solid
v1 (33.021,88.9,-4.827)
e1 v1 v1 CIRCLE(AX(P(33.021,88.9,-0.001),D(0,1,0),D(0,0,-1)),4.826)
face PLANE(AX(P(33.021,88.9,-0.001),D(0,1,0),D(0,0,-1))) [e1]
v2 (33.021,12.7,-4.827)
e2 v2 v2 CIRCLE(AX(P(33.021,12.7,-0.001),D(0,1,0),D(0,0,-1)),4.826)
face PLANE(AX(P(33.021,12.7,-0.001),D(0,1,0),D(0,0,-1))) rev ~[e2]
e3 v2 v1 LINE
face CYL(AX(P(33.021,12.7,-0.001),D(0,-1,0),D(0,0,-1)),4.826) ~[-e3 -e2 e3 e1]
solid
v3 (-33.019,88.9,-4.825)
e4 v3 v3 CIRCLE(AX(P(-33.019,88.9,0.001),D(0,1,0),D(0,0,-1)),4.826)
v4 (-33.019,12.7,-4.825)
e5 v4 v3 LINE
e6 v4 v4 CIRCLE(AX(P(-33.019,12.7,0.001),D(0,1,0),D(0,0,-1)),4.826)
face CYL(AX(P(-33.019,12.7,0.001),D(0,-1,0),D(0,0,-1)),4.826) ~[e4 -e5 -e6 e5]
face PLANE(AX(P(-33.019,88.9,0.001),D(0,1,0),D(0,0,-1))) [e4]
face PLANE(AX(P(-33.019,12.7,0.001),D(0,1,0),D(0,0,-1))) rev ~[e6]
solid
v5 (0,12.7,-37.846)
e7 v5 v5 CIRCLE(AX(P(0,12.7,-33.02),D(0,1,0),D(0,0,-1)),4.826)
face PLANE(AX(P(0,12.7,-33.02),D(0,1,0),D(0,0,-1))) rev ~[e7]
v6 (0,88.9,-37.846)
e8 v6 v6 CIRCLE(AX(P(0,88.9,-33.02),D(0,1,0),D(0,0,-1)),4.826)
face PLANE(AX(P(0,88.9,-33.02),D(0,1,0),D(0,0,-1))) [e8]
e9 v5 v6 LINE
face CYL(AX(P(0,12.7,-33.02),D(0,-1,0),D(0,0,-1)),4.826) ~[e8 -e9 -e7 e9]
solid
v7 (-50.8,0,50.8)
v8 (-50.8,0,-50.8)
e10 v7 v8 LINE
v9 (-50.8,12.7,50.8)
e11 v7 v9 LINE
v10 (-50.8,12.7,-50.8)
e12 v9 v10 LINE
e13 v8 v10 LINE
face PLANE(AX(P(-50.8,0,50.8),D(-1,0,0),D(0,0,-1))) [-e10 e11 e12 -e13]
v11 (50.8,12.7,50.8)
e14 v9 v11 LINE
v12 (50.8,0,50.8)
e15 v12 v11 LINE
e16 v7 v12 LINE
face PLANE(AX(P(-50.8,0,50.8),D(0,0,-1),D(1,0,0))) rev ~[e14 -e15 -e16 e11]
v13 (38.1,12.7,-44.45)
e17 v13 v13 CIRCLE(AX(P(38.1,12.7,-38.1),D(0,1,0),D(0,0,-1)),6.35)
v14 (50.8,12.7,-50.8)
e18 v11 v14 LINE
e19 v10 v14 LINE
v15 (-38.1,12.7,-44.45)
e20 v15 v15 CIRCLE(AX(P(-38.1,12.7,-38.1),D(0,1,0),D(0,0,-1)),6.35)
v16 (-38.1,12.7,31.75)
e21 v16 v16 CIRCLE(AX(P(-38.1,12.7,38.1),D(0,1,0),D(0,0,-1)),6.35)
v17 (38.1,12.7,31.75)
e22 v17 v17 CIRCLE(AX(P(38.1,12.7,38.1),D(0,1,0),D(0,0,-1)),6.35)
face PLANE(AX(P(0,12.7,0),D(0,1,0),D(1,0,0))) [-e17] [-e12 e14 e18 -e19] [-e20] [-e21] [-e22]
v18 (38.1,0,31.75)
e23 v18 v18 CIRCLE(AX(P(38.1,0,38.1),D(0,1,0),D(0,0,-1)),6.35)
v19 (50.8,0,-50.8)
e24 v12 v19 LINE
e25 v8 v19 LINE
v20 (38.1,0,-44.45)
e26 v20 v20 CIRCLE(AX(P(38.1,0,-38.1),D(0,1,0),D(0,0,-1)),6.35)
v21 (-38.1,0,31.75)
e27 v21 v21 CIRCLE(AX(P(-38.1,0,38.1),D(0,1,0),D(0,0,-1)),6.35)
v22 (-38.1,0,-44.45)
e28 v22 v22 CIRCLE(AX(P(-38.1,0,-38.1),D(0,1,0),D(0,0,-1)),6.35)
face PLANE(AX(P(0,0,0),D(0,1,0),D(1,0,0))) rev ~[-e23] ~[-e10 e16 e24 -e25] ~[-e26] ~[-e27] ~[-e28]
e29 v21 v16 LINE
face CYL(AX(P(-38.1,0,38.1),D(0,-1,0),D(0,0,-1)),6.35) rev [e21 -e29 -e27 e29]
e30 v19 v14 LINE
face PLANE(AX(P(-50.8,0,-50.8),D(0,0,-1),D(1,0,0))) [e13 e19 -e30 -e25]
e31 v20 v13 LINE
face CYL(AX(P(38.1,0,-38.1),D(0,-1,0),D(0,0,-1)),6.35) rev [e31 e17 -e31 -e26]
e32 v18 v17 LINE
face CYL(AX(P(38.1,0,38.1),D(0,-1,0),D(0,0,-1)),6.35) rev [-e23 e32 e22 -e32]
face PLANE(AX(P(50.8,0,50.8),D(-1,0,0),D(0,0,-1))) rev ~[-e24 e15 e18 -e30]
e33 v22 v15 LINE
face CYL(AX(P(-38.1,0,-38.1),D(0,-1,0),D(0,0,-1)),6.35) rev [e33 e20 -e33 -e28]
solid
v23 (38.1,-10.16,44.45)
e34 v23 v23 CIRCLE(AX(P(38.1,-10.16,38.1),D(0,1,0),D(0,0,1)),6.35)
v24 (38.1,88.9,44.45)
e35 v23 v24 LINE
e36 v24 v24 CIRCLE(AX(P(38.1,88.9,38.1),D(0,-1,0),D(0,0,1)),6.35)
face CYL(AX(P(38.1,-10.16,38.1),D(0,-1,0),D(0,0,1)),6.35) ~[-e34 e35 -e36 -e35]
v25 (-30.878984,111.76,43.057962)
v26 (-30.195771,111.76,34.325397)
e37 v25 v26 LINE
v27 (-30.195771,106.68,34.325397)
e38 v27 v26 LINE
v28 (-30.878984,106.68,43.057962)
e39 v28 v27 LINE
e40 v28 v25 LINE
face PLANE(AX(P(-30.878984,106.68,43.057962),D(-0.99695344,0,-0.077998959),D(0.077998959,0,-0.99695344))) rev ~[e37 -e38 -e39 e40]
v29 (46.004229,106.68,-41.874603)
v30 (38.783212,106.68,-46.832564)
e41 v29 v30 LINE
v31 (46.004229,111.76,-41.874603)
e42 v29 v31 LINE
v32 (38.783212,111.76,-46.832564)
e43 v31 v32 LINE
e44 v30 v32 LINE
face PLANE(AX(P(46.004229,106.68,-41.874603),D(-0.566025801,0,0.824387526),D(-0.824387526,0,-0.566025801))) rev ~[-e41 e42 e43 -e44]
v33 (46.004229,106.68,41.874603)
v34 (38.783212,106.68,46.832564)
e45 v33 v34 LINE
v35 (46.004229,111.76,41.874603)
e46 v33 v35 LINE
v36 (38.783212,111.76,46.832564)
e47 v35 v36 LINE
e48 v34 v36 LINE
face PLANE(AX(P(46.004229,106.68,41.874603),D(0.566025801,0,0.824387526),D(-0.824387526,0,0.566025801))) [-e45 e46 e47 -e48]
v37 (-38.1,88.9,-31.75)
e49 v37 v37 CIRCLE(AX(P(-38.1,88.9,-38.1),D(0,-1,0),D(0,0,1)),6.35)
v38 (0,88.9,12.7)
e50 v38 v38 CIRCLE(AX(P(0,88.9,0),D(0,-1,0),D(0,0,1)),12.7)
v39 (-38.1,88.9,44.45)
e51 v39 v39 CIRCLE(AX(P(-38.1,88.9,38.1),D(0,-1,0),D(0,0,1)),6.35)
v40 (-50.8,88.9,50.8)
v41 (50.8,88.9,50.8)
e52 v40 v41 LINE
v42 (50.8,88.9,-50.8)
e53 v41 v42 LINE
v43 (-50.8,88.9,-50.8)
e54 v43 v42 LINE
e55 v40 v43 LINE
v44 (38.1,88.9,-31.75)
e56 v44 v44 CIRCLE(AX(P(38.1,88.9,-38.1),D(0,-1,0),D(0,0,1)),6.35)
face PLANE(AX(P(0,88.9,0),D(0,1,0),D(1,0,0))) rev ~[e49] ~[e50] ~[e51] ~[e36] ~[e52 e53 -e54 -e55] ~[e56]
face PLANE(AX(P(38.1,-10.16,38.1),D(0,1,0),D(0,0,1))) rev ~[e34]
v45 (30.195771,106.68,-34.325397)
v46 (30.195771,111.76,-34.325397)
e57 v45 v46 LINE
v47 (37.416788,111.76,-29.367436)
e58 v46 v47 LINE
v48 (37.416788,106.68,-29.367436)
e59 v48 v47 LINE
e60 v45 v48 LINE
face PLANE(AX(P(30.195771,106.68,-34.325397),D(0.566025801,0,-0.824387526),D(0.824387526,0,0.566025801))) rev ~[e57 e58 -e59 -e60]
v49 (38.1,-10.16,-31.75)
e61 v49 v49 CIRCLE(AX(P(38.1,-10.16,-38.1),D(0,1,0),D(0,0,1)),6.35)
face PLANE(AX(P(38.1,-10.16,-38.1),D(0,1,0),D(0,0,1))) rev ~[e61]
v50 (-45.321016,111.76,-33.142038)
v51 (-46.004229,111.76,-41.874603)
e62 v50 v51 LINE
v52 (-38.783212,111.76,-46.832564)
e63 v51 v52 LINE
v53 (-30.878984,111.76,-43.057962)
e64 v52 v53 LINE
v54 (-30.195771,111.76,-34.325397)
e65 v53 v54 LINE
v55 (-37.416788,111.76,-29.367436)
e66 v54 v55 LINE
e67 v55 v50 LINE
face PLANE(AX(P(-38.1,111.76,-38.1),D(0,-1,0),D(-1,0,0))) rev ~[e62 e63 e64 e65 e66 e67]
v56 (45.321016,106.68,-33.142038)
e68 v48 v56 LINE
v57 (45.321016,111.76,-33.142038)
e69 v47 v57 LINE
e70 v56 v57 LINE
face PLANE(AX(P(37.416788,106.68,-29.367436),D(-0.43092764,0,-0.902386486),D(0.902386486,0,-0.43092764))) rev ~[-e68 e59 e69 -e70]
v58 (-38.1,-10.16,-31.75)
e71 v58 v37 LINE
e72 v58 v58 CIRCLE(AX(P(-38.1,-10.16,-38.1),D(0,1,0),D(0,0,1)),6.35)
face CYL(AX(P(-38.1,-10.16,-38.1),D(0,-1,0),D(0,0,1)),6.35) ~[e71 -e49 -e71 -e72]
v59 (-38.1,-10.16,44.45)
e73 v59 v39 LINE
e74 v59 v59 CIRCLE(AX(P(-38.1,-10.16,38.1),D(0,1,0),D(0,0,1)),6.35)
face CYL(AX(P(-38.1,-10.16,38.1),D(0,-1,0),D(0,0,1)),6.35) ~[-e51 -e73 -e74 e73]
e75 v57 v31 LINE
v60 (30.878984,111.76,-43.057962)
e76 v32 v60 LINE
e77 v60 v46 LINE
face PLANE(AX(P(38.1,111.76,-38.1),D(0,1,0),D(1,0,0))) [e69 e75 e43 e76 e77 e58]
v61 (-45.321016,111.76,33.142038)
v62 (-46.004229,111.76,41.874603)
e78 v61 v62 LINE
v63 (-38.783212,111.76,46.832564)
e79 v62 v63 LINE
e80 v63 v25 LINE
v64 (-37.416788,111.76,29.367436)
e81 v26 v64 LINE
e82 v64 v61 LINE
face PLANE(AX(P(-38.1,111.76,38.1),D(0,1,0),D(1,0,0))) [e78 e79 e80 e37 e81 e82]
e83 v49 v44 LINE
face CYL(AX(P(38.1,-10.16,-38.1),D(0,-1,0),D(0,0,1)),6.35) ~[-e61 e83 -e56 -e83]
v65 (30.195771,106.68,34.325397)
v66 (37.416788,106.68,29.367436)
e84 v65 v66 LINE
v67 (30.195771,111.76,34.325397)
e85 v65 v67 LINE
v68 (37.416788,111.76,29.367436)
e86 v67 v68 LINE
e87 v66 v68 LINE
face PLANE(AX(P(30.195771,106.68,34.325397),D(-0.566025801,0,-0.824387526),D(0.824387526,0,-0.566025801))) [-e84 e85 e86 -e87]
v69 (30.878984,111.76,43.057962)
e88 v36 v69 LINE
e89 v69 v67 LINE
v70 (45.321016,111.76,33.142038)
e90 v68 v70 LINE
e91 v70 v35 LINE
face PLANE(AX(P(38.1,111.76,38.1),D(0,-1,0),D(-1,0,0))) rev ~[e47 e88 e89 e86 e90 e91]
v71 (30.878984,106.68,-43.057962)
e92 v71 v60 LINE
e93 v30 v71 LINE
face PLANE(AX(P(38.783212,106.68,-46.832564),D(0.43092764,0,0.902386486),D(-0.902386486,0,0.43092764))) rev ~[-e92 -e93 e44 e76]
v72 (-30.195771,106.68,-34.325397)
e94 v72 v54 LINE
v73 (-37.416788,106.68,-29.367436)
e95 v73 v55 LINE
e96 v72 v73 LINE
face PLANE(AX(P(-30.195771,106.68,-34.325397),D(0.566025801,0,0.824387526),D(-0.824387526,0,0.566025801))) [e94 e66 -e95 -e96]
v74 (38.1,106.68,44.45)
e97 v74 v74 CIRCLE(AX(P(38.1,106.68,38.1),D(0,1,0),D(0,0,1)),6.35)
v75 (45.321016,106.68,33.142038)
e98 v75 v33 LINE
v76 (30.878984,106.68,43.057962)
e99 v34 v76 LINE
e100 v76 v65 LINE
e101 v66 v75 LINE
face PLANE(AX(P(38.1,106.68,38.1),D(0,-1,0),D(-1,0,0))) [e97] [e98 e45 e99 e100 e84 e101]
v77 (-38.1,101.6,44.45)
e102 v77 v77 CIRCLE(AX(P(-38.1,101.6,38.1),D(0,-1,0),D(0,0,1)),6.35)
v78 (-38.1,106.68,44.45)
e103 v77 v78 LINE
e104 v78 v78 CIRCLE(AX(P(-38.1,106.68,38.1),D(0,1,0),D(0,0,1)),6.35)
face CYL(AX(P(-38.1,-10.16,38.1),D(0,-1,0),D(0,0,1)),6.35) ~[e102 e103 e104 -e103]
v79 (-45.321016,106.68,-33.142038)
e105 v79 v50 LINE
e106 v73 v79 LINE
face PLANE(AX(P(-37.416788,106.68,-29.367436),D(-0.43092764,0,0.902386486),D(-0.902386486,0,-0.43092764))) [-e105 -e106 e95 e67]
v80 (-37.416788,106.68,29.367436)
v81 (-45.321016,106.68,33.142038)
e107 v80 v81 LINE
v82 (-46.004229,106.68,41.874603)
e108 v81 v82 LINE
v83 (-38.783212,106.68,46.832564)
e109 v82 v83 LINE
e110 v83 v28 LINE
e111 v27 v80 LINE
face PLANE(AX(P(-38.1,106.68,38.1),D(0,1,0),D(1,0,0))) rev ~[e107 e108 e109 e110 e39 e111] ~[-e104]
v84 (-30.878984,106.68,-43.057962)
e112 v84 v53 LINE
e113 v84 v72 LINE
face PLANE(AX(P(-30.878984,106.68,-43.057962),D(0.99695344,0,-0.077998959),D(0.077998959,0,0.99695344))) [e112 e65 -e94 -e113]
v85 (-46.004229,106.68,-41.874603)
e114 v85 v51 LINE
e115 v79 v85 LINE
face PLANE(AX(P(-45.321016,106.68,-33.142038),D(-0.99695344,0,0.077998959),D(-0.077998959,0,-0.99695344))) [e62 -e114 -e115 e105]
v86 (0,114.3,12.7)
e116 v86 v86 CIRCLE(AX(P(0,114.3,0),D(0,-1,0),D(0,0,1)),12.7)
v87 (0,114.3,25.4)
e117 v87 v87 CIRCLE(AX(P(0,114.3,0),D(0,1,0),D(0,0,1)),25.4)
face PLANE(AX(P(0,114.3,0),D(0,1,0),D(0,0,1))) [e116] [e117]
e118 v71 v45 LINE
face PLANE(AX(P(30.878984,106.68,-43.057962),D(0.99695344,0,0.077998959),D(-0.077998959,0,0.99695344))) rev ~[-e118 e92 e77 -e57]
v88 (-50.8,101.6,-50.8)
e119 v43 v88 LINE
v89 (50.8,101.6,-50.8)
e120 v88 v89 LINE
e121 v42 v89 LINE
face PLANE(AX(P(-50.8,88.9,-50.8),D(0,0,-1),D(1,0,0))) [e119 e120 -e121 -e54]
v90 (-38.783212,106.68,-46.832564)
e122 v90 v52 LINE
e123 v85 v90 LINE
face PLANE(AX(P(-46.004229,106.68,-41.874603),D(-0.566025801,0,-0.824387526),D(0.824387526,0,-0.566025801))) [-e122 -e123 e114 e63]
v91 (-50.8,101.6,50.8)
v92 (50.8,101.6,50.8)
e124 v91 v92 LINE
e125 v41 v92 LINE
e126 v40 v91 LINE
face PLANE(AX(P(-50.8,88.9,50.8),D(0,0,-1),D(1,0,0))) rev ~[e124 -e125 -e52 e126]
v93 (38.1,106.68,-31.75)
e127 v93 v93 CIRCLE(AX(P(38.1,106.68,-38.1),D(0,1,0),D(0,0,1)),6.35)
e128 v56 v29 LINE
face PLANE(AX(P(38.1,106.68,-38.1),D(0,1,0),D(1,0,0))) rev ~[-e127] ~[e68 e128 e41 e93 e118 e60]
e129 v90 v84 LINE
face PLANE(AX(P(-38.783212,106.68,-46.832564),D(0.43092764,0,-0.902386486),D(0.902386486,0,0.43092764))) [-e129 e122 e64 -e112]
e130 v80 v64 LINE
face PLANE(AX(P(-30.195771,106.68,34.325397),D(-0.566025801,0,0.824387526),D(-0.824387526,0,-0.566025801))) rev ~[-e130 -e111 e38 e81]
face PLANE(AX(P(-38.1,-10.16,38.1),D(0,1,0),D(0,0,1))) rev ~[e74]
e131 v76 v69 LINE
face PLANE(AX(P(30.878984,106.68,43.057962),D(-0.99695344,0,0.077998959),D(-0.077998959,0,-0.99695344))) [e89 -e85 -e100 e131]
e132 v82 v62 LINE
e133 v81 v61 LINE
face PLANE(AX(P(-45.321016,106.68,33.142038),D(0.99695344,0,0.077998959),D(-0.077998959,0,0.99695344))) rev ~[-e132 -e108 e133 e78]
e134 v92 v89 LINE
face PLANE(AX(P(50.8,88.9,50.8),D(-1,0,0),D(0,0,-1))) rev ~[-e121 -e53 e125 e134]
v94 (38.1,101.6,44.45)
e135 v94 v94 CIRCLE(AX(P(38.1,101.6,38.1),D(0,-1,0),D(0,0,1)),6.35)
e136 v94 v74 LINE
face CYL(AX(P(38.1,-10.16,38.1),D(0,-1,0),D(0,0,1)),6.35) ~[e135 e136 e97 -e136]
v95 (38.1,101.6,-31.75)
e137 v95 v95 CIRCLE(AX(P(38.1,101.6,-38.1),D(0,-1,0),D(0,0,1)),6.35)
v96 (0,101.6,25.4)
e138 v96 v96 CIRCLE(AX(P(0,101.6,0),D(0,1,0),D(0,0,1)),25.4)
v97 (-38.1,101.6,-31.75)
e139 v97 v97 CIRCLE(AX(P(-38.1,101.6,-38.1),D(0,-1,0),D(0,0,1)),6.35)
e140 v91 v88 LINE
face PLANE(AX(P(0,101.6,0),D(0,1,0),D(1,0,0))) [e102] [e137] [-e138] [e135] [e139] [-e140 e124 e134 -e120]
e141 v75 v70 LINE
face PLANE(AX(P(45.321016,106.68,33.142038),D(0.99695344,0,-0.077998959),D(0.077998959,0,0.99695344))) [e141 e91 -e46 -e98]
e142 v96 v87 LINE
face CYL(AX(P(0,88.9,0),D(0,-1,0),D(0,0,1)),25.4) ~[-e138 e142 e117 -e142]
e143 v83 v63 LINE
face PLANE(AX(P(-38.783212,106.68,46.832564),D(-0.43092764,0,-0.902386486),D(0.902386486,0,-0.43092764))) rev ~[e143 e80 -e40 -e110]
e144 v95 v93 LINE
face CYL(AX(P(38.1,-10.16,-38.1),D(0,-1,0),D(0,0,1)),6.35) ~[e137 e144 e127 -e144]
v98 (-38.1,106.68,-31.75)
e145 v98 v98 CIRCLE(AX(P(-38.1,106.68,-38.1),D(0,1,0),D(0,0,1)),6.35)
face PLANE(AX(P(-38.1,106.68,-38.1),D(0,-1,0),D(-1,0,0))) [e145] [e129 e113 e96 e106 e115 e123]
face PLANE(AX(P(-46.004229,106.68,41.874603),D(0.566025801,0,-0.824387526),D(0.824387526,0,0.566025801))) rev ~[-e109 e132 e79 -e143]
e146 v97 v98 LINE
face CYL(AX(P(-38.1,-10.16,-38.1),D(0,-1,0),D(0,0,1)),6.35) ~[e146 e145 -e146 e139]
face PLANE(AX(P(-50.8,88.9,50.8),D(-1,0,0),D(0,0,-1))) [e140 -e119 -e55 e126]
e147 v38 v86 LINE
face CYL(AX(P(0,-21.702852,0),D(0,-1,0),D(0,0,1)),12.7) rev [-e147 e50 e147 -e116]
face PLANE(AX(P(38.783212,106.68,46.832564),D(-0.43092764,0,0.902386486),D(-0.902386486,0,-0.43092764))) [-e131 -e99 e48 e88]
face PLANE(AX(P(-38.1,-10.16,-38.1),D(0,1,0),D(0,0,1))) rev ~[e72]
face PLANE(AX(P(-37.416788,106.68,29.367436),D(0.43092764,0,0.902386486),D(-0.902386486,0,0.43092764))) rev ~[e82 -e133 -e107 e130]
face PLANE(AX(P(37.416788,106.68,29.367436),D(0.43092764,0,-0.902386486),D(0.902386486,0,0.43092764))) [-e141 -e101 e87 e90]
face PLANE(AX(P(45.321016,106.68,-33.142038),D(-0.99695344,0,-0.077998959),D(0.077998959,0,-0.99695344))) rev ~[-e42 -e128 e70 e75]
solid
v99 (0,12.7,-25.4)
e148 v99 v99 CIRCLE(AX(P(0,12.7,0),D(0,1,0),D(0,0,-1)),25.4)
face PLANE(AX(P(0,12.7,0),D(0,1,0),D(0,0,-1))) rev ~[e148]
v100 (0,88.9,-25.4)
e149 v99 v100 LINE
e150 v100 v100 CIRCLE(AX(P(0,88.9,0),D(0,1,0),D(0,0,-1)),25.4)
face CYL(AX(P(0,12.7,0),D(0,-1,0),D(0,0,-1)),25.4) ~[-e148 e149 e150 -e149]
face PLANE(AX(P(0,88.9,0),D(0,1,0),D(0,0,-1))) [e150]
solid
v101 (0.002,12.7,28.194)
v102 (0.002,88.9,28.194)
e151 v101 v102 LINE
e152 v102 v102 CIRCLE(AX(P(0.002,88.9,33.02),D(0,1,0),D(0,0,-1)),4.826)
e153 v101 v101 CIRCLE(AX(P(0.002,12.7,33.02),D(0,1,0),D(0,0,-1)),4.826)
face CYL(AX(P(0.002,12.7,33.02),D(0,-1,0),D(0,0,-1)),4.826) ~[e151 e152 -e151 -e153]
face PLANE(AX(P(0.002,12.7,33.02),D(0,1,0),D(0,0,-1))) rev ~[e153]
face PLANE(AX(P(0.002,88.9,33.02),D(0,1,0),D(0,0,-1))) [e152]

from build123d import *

# Parameters (mm, degrees)
SKETCH1_W                  = 101.6
SKETCH1_H                  = 101.6
SKETCH1_R                  = 6.35
BOSS_EXTRUDE1_DEPTH        = 12.7
SKETCH2_R                  = 25.4
BOSS_EXTRUDE2_DEPTH        = 76.2
SKETCH2_R_2                = 4.826
BOSS_EXTRUDE2_2_DEPTH      = 76.2
BOSS_EXTRUDE2_3_DEPTH      = 76.2
BOSS_EXTRUDE2_4_DEPTH      = 76.2
BOSS_EXTRUDE2_5_DEPTH      = 76.2
SKETCH4_W                  = 101.6
SKETCH4_H                  = 101.6
SKETCH4_R                  = 25.4
BOSS_EXTRUDE4_DEPTH        = 12.7
CUT_EXTRUDE2_DEPTH         = 115.3
CUT_EXTRUDE2_DEPTH_BACK    = 115.3
SKETCH5_R                  = 6.35
SKETCH6_R                  = 25.4
BOSS_EXTRUDE5_DEPTH        = 25.4
CUT_EXTRUDE3_DEPTH         = 136.002851822
CUT_EXTRUDE3_DEPTH_BACK    = 136.002851822
SKETCH7_R                  = 12.7
BOSS_EXTRUDE6_DEPTH        = 15.24
BOSS_EXTRUDE6_DEPTH_BACK   = 101.6
SKETCH9_R                  = 6.35
BOSS_EXTRUDE6_2_DEPTH      = 15.24
BOSS_EXTRUDE6_2_DEPTH_BACK = 101.6
BOSS_EXTRUDE6_3_DEPTH      = 15.24
BOSS_EXTRUDE6_3_DEPTH_BACK = 101.6
BOSS_EXTRUDE6_4_DEPTH      = 15.24
BOSS_EXTRUDE6_4_DEPTH_BACK = 101.6
BOSS_EXTRUDE7_DEPTH        = 5.08


with BuildPart() as part:
    # Sketch1 → Boss-Extrude1 (new body)
    with BuildSketch(Plane(origin=(0, 0, 0), x_dir=(1, 0, 0), z_dir=(0, 1, 0))):
        Rectangle(SKETCH1_W, SKETCH1_H)
        with Locations(Location((-38.1, 38.1, 0), (0, 0, 90))):
            Circle(SKETCH1_R, mode=Mode.SUBTRACT)
        with Locations(Location((38.1, 38.1, 0), (0, 0, 90))):
            Circle(SKETCH1_R, mode=Mode.SUBTRACT)
        with Locations(Location((38.1, -38.1, 0), (0, 0, 90))):
            Circle(SKETCH1_R, mode=Mode.SUBTRACT)
        with Locations(Location((-38.1, -38.1, 0), (0, 0, 90))):
            Circle(SKETCH1_R, mode=Mode.SUBTRACT)
    extrude(amount=BOSS_EXTRUDE1_DEPTH)


with BuildPart() as body_2:
    # Sketch2 → Boss-Extrude2 (new body)
    with BuildSketch(Plane(origin=(0, 12.7, 0), x_dir=(1, 0, 0), z_dir=(0, 1, 0))):
        with Locations(Location((0, 0, 0), (0, 0, 90))):
            Circle(SKETCH2_R)
    extrude(amount=BOSS_EXTRUDE2_DEPTH)


with BuildPart() as body_3:
    # Sketch2 → Boss-Extrude2 2 (new body)
    with BuildSketch(Plane(origin=(0, 12.7, 0), x_dir=(1, 0, 0), z_dir=(0, 1, 0))):
        with Locations(Location((0, 33.02, 0), (0, 0, 90))):
            Circle(SKETCH2_R_2)
    extrude(amount=BOSS_EXTRUDE2_2_DEPTH)


with BuildPart() as body_4:
    # Sketch2 → Boss-Extrude2 3 (new body)
    with BuildSketch(Plane(origin=(0, 12.7, 0), x_dir=(1, 0, 0), z_dir=(0, 1, 0))):
        with Locations(Location((33.021, 0.001, 0), (0, 0, 90))):
            Circle(SKETCH2_R_2)
    extrude(amount=BOSS_EXTRUDE2_3_DEPTH)


with BuildPart() as body_5:
    # Sketch2 → Boss-Extrude2 4 (new body)
    with BuildSketch(Plane(origin=(0, 12.7, 0), x_dir=(1, 0, 0), z_dir=(0, 1, 0))):
        with Locations(Location((0.002, -33.02, 0), (0, 0, 90))):
            Circle(SKETCH2_R_2)
    extrude(amount=BOSS_EXTRUDE2_4_DEPTH)


with BuildPart() as body_6:
    # Sketch2 → Boss-Extrude2 5 (new body)
    with BuildSketch(Plane(origin=(0, 12.7, 0), x_dir=(1, 0, 0), z_dir=(0, 1, 0))):
        with Locations(Location((-33.019, -0.001, 0), (0, 0, 90))):
            Circle(SKETCH2_R_2)
    extrude(amount=BOSS_EXTRUDE2_5_DEPTH)


with BuildPart() as body_7:
    # Sketch4 → Boss-Extrude4 (new body)
    with BuildSketch(Plane(origin=(0, 88.9, 0), x_dir=(1, 0, 0), z_dir=(0, 1, 0))):
        Rectangle(SKETCH4_W, SKETCH4_H)
        with Locations(Location((0, 0, 0), (0, 0, 270))):
            Circle(SKETCH4_R, mode=Mode.SUBTRACT)
    extrude(amount=BOSS_EXTRUDE4_DEPTH)

    # Sketch5 → Cut-Extrude2 (cut, two sides: drawn at the far end of the back side and taken through both)
    with BuildSketch(Plane(origin=(0, 88.9, 0), x_dir=(1, 0, 0), z_dir=(0, 1, 0)).offset(-CUT_EXTRUDE2_DEPTH_BACK)):
        with Locations(Location((-38.1, 38.1, 0), (0, 0, 270))):
            Circle(SKETCH5_R)
        with Locations(Location((38.1, -38.1, 0), (0, 0, 270))):
            Circle(SKETCH5_R)
        with Locations(Location((-38.1, -38.1, 0), (0, 0, 270))):
            Circle(SKETCH5_R)
        with Locations(Location((38.1, 38.1, 0), (0, 0, 270))):
            Circle(SKETCH5_R)
    extrude(amount=CUT_EXTRUDE2_DEPTH + CUT_EXTRUDE2_DEPTH_BACK, mode=Mode.SUBTRACT)

    # Sketch6 → Boss-Extrude5 (add)
    with BuildSketch(Plane(origin=(0, 88.9, 0), x_dir=(1, 0, 0), z_dir=(0, 1, 0))):
        with Locations(Location((0, 0, 0), (0, 0, 270))):
            Circle(SKETCH6_R)
    extrude(amount=BOSS_EXTRUDE5_DEPTH)

    # Sketch7 → Cut-Extrude3 (cut, two sides: drawn at the far end of the back side and taken through both)
    with BuildSketch(Plane(origin=(0, 114.3, 0), x_dir=(1, 0, 0), z_dir=(0, 1, 0)).offset(-CUT_EXTRUDE3_DEPTH_BACK)):
        with Locations(Location((0, 0, 0), (0, 0, 270))):
            Circle(SKETCH7_R)
    extrude(amount=CUT_EXTRUDE3_DEPTH + CUT_EXTRUDE3_DEPTH_BACK, mode=Mode.SUBTRACT)



with BuildPart() as body_8:
    # Sketch9 → Boss-Extrude6 (new, two sides: drawn at the far end of the back side and taken through both)
    with BuildSketch(Plane(origin=(0, 91.44, 0), x_dir=(1, 0, 0), z_dir=(0, 1, 0)).offset(-BOSS_EXTRUDE6_DEPTH_BACK)):
        with Locations(Location((-38.1, -38.1, 0), (0, 0, 270))):
            Circle(SKETCH9_R)
    extrude(amount=BOSS_EXTRUDE6_DEPTH + BOSS_EXTRUDE6_DEPTH_BACK)


with BuildPart() as body_9:
    # Sketch9 → Boss-Extrude6 2 (new, two sides: drawn at the far end of the back side and taken through both)
    with BuildSketch(Plane(origin=(0, 91.44, 0), x_dir=(1, 0, 0), z_dir=(0, 1, 0)).offset(-BOSS_EXTRUDE6_2_DEPTH_BACK)):
        with Locations(Location((38.1, -38.1, 0), (0, 0, 270))):
            Circle(SKETCH9_R)
    extrude(amount=BOSS_EXTRUDE6_2_DEPTH + BOSS_EXTRUDE6_2_DEPTH_BACK)


with BuildPart() as body_10:
    # Sketch9 → Boss-Extrude6 3 (new, two sides: drawn at the far end of the back side and taken through both)
    with BuildSketch(Plane(origin=(0, 91.44, 0), x_dir=(1, 0, 0), z_dir=(0, 1, 0)).offset(-BOSS_EXTRUDE6_3_DEPTH_BACK)):
        with Locations(Location((38.1, 38.1, 0), (0, 0, 270))):
            Circle(SKETCH9_R)
    extrude(amount=BOSS_EXTRUDE6_3_DEPTH + BOSS_EXTRUDE6_3_DEPTH_BACK)


with BuildPart() as body_11:
    # Sketch9 → Boss-Extrude6 4 (new, two sides: drawn at the far end of the back side and taken through both)
    with BuildSketch(Plane(origin=(0, 91.44, 0), x_dir=(1, 0, 0), z_dir=(0, 1, 0)).offset(-BOSS_EXTRUDE6_4_DEPTH_BACK)):
        with Locations(Location((-38.1, 38.1, 0), (0, 0, 270))):
            Circle(SKETCH9_R)
    extrude(amount=BOSS_EXTRUDE6_4_DEPTH + BOSS_EXTRUDE6_4_DEPTH_BACK)


with BuildPart() as body_7_1:
    add(body_7.part)

    add(body_8.part)  # Boss-Extrude7 merges body 8

    add(body_9.part)  # Boss-Extrude7 merges body 9

    add(body_10.part)  # Boss-Extrude7 merges body 10

    add(body_11.part)  # Boss-Extrude7 merges body 11
    # Sketch10 → Boss-Extrude7 (add)
    with BuildSketch(Plane(origin=(0, 106.68, 0), x_dir=(1, 0, 0), z_dir=(0, 1, 0))):
        Polygon((-30.878983534, -43.057961512), (-30.195771147, -34.325397056), (-37.416787612, -29.367435544), (-45.321016466, -33.142038488), (-46.004228853, -41.874602944), (-38.783212388, -46.832564456), align=None)
        Polygon((-38.783212388, 46.832564456), (-30.878983534, 43.057961512), (-30.195771147, 34.325397056), (-37.416787612, 29.367435544), (-45.321016466, 33.142038488), (-46.004228853, 41.874602944), align=None)
        Polygon((46.004228853, 41.874602944), (38.783212388, 46.832564456), (30.878983534, 43.057961512), (30.195771147, 34.325397056), (37.416787612, 29.367435544), (45.321016466, 33.142038488), align=None)
        Polygon((38.783212388, -46.832564456), (30.878983534, -43.057961512), (30.195771147, -34.325397056), (37.416787612, -29.367435544), (45.321016466, -33.142038488), (46.004228853, -41.874602944), align=None)
    extrude(amount=BOSS_EXTRUDE7_DEPTH)


solid = Compound([part.part, body_2.part, body_3.part, body_4.part, body_5.part, body_6.part, body_7_1.part])
